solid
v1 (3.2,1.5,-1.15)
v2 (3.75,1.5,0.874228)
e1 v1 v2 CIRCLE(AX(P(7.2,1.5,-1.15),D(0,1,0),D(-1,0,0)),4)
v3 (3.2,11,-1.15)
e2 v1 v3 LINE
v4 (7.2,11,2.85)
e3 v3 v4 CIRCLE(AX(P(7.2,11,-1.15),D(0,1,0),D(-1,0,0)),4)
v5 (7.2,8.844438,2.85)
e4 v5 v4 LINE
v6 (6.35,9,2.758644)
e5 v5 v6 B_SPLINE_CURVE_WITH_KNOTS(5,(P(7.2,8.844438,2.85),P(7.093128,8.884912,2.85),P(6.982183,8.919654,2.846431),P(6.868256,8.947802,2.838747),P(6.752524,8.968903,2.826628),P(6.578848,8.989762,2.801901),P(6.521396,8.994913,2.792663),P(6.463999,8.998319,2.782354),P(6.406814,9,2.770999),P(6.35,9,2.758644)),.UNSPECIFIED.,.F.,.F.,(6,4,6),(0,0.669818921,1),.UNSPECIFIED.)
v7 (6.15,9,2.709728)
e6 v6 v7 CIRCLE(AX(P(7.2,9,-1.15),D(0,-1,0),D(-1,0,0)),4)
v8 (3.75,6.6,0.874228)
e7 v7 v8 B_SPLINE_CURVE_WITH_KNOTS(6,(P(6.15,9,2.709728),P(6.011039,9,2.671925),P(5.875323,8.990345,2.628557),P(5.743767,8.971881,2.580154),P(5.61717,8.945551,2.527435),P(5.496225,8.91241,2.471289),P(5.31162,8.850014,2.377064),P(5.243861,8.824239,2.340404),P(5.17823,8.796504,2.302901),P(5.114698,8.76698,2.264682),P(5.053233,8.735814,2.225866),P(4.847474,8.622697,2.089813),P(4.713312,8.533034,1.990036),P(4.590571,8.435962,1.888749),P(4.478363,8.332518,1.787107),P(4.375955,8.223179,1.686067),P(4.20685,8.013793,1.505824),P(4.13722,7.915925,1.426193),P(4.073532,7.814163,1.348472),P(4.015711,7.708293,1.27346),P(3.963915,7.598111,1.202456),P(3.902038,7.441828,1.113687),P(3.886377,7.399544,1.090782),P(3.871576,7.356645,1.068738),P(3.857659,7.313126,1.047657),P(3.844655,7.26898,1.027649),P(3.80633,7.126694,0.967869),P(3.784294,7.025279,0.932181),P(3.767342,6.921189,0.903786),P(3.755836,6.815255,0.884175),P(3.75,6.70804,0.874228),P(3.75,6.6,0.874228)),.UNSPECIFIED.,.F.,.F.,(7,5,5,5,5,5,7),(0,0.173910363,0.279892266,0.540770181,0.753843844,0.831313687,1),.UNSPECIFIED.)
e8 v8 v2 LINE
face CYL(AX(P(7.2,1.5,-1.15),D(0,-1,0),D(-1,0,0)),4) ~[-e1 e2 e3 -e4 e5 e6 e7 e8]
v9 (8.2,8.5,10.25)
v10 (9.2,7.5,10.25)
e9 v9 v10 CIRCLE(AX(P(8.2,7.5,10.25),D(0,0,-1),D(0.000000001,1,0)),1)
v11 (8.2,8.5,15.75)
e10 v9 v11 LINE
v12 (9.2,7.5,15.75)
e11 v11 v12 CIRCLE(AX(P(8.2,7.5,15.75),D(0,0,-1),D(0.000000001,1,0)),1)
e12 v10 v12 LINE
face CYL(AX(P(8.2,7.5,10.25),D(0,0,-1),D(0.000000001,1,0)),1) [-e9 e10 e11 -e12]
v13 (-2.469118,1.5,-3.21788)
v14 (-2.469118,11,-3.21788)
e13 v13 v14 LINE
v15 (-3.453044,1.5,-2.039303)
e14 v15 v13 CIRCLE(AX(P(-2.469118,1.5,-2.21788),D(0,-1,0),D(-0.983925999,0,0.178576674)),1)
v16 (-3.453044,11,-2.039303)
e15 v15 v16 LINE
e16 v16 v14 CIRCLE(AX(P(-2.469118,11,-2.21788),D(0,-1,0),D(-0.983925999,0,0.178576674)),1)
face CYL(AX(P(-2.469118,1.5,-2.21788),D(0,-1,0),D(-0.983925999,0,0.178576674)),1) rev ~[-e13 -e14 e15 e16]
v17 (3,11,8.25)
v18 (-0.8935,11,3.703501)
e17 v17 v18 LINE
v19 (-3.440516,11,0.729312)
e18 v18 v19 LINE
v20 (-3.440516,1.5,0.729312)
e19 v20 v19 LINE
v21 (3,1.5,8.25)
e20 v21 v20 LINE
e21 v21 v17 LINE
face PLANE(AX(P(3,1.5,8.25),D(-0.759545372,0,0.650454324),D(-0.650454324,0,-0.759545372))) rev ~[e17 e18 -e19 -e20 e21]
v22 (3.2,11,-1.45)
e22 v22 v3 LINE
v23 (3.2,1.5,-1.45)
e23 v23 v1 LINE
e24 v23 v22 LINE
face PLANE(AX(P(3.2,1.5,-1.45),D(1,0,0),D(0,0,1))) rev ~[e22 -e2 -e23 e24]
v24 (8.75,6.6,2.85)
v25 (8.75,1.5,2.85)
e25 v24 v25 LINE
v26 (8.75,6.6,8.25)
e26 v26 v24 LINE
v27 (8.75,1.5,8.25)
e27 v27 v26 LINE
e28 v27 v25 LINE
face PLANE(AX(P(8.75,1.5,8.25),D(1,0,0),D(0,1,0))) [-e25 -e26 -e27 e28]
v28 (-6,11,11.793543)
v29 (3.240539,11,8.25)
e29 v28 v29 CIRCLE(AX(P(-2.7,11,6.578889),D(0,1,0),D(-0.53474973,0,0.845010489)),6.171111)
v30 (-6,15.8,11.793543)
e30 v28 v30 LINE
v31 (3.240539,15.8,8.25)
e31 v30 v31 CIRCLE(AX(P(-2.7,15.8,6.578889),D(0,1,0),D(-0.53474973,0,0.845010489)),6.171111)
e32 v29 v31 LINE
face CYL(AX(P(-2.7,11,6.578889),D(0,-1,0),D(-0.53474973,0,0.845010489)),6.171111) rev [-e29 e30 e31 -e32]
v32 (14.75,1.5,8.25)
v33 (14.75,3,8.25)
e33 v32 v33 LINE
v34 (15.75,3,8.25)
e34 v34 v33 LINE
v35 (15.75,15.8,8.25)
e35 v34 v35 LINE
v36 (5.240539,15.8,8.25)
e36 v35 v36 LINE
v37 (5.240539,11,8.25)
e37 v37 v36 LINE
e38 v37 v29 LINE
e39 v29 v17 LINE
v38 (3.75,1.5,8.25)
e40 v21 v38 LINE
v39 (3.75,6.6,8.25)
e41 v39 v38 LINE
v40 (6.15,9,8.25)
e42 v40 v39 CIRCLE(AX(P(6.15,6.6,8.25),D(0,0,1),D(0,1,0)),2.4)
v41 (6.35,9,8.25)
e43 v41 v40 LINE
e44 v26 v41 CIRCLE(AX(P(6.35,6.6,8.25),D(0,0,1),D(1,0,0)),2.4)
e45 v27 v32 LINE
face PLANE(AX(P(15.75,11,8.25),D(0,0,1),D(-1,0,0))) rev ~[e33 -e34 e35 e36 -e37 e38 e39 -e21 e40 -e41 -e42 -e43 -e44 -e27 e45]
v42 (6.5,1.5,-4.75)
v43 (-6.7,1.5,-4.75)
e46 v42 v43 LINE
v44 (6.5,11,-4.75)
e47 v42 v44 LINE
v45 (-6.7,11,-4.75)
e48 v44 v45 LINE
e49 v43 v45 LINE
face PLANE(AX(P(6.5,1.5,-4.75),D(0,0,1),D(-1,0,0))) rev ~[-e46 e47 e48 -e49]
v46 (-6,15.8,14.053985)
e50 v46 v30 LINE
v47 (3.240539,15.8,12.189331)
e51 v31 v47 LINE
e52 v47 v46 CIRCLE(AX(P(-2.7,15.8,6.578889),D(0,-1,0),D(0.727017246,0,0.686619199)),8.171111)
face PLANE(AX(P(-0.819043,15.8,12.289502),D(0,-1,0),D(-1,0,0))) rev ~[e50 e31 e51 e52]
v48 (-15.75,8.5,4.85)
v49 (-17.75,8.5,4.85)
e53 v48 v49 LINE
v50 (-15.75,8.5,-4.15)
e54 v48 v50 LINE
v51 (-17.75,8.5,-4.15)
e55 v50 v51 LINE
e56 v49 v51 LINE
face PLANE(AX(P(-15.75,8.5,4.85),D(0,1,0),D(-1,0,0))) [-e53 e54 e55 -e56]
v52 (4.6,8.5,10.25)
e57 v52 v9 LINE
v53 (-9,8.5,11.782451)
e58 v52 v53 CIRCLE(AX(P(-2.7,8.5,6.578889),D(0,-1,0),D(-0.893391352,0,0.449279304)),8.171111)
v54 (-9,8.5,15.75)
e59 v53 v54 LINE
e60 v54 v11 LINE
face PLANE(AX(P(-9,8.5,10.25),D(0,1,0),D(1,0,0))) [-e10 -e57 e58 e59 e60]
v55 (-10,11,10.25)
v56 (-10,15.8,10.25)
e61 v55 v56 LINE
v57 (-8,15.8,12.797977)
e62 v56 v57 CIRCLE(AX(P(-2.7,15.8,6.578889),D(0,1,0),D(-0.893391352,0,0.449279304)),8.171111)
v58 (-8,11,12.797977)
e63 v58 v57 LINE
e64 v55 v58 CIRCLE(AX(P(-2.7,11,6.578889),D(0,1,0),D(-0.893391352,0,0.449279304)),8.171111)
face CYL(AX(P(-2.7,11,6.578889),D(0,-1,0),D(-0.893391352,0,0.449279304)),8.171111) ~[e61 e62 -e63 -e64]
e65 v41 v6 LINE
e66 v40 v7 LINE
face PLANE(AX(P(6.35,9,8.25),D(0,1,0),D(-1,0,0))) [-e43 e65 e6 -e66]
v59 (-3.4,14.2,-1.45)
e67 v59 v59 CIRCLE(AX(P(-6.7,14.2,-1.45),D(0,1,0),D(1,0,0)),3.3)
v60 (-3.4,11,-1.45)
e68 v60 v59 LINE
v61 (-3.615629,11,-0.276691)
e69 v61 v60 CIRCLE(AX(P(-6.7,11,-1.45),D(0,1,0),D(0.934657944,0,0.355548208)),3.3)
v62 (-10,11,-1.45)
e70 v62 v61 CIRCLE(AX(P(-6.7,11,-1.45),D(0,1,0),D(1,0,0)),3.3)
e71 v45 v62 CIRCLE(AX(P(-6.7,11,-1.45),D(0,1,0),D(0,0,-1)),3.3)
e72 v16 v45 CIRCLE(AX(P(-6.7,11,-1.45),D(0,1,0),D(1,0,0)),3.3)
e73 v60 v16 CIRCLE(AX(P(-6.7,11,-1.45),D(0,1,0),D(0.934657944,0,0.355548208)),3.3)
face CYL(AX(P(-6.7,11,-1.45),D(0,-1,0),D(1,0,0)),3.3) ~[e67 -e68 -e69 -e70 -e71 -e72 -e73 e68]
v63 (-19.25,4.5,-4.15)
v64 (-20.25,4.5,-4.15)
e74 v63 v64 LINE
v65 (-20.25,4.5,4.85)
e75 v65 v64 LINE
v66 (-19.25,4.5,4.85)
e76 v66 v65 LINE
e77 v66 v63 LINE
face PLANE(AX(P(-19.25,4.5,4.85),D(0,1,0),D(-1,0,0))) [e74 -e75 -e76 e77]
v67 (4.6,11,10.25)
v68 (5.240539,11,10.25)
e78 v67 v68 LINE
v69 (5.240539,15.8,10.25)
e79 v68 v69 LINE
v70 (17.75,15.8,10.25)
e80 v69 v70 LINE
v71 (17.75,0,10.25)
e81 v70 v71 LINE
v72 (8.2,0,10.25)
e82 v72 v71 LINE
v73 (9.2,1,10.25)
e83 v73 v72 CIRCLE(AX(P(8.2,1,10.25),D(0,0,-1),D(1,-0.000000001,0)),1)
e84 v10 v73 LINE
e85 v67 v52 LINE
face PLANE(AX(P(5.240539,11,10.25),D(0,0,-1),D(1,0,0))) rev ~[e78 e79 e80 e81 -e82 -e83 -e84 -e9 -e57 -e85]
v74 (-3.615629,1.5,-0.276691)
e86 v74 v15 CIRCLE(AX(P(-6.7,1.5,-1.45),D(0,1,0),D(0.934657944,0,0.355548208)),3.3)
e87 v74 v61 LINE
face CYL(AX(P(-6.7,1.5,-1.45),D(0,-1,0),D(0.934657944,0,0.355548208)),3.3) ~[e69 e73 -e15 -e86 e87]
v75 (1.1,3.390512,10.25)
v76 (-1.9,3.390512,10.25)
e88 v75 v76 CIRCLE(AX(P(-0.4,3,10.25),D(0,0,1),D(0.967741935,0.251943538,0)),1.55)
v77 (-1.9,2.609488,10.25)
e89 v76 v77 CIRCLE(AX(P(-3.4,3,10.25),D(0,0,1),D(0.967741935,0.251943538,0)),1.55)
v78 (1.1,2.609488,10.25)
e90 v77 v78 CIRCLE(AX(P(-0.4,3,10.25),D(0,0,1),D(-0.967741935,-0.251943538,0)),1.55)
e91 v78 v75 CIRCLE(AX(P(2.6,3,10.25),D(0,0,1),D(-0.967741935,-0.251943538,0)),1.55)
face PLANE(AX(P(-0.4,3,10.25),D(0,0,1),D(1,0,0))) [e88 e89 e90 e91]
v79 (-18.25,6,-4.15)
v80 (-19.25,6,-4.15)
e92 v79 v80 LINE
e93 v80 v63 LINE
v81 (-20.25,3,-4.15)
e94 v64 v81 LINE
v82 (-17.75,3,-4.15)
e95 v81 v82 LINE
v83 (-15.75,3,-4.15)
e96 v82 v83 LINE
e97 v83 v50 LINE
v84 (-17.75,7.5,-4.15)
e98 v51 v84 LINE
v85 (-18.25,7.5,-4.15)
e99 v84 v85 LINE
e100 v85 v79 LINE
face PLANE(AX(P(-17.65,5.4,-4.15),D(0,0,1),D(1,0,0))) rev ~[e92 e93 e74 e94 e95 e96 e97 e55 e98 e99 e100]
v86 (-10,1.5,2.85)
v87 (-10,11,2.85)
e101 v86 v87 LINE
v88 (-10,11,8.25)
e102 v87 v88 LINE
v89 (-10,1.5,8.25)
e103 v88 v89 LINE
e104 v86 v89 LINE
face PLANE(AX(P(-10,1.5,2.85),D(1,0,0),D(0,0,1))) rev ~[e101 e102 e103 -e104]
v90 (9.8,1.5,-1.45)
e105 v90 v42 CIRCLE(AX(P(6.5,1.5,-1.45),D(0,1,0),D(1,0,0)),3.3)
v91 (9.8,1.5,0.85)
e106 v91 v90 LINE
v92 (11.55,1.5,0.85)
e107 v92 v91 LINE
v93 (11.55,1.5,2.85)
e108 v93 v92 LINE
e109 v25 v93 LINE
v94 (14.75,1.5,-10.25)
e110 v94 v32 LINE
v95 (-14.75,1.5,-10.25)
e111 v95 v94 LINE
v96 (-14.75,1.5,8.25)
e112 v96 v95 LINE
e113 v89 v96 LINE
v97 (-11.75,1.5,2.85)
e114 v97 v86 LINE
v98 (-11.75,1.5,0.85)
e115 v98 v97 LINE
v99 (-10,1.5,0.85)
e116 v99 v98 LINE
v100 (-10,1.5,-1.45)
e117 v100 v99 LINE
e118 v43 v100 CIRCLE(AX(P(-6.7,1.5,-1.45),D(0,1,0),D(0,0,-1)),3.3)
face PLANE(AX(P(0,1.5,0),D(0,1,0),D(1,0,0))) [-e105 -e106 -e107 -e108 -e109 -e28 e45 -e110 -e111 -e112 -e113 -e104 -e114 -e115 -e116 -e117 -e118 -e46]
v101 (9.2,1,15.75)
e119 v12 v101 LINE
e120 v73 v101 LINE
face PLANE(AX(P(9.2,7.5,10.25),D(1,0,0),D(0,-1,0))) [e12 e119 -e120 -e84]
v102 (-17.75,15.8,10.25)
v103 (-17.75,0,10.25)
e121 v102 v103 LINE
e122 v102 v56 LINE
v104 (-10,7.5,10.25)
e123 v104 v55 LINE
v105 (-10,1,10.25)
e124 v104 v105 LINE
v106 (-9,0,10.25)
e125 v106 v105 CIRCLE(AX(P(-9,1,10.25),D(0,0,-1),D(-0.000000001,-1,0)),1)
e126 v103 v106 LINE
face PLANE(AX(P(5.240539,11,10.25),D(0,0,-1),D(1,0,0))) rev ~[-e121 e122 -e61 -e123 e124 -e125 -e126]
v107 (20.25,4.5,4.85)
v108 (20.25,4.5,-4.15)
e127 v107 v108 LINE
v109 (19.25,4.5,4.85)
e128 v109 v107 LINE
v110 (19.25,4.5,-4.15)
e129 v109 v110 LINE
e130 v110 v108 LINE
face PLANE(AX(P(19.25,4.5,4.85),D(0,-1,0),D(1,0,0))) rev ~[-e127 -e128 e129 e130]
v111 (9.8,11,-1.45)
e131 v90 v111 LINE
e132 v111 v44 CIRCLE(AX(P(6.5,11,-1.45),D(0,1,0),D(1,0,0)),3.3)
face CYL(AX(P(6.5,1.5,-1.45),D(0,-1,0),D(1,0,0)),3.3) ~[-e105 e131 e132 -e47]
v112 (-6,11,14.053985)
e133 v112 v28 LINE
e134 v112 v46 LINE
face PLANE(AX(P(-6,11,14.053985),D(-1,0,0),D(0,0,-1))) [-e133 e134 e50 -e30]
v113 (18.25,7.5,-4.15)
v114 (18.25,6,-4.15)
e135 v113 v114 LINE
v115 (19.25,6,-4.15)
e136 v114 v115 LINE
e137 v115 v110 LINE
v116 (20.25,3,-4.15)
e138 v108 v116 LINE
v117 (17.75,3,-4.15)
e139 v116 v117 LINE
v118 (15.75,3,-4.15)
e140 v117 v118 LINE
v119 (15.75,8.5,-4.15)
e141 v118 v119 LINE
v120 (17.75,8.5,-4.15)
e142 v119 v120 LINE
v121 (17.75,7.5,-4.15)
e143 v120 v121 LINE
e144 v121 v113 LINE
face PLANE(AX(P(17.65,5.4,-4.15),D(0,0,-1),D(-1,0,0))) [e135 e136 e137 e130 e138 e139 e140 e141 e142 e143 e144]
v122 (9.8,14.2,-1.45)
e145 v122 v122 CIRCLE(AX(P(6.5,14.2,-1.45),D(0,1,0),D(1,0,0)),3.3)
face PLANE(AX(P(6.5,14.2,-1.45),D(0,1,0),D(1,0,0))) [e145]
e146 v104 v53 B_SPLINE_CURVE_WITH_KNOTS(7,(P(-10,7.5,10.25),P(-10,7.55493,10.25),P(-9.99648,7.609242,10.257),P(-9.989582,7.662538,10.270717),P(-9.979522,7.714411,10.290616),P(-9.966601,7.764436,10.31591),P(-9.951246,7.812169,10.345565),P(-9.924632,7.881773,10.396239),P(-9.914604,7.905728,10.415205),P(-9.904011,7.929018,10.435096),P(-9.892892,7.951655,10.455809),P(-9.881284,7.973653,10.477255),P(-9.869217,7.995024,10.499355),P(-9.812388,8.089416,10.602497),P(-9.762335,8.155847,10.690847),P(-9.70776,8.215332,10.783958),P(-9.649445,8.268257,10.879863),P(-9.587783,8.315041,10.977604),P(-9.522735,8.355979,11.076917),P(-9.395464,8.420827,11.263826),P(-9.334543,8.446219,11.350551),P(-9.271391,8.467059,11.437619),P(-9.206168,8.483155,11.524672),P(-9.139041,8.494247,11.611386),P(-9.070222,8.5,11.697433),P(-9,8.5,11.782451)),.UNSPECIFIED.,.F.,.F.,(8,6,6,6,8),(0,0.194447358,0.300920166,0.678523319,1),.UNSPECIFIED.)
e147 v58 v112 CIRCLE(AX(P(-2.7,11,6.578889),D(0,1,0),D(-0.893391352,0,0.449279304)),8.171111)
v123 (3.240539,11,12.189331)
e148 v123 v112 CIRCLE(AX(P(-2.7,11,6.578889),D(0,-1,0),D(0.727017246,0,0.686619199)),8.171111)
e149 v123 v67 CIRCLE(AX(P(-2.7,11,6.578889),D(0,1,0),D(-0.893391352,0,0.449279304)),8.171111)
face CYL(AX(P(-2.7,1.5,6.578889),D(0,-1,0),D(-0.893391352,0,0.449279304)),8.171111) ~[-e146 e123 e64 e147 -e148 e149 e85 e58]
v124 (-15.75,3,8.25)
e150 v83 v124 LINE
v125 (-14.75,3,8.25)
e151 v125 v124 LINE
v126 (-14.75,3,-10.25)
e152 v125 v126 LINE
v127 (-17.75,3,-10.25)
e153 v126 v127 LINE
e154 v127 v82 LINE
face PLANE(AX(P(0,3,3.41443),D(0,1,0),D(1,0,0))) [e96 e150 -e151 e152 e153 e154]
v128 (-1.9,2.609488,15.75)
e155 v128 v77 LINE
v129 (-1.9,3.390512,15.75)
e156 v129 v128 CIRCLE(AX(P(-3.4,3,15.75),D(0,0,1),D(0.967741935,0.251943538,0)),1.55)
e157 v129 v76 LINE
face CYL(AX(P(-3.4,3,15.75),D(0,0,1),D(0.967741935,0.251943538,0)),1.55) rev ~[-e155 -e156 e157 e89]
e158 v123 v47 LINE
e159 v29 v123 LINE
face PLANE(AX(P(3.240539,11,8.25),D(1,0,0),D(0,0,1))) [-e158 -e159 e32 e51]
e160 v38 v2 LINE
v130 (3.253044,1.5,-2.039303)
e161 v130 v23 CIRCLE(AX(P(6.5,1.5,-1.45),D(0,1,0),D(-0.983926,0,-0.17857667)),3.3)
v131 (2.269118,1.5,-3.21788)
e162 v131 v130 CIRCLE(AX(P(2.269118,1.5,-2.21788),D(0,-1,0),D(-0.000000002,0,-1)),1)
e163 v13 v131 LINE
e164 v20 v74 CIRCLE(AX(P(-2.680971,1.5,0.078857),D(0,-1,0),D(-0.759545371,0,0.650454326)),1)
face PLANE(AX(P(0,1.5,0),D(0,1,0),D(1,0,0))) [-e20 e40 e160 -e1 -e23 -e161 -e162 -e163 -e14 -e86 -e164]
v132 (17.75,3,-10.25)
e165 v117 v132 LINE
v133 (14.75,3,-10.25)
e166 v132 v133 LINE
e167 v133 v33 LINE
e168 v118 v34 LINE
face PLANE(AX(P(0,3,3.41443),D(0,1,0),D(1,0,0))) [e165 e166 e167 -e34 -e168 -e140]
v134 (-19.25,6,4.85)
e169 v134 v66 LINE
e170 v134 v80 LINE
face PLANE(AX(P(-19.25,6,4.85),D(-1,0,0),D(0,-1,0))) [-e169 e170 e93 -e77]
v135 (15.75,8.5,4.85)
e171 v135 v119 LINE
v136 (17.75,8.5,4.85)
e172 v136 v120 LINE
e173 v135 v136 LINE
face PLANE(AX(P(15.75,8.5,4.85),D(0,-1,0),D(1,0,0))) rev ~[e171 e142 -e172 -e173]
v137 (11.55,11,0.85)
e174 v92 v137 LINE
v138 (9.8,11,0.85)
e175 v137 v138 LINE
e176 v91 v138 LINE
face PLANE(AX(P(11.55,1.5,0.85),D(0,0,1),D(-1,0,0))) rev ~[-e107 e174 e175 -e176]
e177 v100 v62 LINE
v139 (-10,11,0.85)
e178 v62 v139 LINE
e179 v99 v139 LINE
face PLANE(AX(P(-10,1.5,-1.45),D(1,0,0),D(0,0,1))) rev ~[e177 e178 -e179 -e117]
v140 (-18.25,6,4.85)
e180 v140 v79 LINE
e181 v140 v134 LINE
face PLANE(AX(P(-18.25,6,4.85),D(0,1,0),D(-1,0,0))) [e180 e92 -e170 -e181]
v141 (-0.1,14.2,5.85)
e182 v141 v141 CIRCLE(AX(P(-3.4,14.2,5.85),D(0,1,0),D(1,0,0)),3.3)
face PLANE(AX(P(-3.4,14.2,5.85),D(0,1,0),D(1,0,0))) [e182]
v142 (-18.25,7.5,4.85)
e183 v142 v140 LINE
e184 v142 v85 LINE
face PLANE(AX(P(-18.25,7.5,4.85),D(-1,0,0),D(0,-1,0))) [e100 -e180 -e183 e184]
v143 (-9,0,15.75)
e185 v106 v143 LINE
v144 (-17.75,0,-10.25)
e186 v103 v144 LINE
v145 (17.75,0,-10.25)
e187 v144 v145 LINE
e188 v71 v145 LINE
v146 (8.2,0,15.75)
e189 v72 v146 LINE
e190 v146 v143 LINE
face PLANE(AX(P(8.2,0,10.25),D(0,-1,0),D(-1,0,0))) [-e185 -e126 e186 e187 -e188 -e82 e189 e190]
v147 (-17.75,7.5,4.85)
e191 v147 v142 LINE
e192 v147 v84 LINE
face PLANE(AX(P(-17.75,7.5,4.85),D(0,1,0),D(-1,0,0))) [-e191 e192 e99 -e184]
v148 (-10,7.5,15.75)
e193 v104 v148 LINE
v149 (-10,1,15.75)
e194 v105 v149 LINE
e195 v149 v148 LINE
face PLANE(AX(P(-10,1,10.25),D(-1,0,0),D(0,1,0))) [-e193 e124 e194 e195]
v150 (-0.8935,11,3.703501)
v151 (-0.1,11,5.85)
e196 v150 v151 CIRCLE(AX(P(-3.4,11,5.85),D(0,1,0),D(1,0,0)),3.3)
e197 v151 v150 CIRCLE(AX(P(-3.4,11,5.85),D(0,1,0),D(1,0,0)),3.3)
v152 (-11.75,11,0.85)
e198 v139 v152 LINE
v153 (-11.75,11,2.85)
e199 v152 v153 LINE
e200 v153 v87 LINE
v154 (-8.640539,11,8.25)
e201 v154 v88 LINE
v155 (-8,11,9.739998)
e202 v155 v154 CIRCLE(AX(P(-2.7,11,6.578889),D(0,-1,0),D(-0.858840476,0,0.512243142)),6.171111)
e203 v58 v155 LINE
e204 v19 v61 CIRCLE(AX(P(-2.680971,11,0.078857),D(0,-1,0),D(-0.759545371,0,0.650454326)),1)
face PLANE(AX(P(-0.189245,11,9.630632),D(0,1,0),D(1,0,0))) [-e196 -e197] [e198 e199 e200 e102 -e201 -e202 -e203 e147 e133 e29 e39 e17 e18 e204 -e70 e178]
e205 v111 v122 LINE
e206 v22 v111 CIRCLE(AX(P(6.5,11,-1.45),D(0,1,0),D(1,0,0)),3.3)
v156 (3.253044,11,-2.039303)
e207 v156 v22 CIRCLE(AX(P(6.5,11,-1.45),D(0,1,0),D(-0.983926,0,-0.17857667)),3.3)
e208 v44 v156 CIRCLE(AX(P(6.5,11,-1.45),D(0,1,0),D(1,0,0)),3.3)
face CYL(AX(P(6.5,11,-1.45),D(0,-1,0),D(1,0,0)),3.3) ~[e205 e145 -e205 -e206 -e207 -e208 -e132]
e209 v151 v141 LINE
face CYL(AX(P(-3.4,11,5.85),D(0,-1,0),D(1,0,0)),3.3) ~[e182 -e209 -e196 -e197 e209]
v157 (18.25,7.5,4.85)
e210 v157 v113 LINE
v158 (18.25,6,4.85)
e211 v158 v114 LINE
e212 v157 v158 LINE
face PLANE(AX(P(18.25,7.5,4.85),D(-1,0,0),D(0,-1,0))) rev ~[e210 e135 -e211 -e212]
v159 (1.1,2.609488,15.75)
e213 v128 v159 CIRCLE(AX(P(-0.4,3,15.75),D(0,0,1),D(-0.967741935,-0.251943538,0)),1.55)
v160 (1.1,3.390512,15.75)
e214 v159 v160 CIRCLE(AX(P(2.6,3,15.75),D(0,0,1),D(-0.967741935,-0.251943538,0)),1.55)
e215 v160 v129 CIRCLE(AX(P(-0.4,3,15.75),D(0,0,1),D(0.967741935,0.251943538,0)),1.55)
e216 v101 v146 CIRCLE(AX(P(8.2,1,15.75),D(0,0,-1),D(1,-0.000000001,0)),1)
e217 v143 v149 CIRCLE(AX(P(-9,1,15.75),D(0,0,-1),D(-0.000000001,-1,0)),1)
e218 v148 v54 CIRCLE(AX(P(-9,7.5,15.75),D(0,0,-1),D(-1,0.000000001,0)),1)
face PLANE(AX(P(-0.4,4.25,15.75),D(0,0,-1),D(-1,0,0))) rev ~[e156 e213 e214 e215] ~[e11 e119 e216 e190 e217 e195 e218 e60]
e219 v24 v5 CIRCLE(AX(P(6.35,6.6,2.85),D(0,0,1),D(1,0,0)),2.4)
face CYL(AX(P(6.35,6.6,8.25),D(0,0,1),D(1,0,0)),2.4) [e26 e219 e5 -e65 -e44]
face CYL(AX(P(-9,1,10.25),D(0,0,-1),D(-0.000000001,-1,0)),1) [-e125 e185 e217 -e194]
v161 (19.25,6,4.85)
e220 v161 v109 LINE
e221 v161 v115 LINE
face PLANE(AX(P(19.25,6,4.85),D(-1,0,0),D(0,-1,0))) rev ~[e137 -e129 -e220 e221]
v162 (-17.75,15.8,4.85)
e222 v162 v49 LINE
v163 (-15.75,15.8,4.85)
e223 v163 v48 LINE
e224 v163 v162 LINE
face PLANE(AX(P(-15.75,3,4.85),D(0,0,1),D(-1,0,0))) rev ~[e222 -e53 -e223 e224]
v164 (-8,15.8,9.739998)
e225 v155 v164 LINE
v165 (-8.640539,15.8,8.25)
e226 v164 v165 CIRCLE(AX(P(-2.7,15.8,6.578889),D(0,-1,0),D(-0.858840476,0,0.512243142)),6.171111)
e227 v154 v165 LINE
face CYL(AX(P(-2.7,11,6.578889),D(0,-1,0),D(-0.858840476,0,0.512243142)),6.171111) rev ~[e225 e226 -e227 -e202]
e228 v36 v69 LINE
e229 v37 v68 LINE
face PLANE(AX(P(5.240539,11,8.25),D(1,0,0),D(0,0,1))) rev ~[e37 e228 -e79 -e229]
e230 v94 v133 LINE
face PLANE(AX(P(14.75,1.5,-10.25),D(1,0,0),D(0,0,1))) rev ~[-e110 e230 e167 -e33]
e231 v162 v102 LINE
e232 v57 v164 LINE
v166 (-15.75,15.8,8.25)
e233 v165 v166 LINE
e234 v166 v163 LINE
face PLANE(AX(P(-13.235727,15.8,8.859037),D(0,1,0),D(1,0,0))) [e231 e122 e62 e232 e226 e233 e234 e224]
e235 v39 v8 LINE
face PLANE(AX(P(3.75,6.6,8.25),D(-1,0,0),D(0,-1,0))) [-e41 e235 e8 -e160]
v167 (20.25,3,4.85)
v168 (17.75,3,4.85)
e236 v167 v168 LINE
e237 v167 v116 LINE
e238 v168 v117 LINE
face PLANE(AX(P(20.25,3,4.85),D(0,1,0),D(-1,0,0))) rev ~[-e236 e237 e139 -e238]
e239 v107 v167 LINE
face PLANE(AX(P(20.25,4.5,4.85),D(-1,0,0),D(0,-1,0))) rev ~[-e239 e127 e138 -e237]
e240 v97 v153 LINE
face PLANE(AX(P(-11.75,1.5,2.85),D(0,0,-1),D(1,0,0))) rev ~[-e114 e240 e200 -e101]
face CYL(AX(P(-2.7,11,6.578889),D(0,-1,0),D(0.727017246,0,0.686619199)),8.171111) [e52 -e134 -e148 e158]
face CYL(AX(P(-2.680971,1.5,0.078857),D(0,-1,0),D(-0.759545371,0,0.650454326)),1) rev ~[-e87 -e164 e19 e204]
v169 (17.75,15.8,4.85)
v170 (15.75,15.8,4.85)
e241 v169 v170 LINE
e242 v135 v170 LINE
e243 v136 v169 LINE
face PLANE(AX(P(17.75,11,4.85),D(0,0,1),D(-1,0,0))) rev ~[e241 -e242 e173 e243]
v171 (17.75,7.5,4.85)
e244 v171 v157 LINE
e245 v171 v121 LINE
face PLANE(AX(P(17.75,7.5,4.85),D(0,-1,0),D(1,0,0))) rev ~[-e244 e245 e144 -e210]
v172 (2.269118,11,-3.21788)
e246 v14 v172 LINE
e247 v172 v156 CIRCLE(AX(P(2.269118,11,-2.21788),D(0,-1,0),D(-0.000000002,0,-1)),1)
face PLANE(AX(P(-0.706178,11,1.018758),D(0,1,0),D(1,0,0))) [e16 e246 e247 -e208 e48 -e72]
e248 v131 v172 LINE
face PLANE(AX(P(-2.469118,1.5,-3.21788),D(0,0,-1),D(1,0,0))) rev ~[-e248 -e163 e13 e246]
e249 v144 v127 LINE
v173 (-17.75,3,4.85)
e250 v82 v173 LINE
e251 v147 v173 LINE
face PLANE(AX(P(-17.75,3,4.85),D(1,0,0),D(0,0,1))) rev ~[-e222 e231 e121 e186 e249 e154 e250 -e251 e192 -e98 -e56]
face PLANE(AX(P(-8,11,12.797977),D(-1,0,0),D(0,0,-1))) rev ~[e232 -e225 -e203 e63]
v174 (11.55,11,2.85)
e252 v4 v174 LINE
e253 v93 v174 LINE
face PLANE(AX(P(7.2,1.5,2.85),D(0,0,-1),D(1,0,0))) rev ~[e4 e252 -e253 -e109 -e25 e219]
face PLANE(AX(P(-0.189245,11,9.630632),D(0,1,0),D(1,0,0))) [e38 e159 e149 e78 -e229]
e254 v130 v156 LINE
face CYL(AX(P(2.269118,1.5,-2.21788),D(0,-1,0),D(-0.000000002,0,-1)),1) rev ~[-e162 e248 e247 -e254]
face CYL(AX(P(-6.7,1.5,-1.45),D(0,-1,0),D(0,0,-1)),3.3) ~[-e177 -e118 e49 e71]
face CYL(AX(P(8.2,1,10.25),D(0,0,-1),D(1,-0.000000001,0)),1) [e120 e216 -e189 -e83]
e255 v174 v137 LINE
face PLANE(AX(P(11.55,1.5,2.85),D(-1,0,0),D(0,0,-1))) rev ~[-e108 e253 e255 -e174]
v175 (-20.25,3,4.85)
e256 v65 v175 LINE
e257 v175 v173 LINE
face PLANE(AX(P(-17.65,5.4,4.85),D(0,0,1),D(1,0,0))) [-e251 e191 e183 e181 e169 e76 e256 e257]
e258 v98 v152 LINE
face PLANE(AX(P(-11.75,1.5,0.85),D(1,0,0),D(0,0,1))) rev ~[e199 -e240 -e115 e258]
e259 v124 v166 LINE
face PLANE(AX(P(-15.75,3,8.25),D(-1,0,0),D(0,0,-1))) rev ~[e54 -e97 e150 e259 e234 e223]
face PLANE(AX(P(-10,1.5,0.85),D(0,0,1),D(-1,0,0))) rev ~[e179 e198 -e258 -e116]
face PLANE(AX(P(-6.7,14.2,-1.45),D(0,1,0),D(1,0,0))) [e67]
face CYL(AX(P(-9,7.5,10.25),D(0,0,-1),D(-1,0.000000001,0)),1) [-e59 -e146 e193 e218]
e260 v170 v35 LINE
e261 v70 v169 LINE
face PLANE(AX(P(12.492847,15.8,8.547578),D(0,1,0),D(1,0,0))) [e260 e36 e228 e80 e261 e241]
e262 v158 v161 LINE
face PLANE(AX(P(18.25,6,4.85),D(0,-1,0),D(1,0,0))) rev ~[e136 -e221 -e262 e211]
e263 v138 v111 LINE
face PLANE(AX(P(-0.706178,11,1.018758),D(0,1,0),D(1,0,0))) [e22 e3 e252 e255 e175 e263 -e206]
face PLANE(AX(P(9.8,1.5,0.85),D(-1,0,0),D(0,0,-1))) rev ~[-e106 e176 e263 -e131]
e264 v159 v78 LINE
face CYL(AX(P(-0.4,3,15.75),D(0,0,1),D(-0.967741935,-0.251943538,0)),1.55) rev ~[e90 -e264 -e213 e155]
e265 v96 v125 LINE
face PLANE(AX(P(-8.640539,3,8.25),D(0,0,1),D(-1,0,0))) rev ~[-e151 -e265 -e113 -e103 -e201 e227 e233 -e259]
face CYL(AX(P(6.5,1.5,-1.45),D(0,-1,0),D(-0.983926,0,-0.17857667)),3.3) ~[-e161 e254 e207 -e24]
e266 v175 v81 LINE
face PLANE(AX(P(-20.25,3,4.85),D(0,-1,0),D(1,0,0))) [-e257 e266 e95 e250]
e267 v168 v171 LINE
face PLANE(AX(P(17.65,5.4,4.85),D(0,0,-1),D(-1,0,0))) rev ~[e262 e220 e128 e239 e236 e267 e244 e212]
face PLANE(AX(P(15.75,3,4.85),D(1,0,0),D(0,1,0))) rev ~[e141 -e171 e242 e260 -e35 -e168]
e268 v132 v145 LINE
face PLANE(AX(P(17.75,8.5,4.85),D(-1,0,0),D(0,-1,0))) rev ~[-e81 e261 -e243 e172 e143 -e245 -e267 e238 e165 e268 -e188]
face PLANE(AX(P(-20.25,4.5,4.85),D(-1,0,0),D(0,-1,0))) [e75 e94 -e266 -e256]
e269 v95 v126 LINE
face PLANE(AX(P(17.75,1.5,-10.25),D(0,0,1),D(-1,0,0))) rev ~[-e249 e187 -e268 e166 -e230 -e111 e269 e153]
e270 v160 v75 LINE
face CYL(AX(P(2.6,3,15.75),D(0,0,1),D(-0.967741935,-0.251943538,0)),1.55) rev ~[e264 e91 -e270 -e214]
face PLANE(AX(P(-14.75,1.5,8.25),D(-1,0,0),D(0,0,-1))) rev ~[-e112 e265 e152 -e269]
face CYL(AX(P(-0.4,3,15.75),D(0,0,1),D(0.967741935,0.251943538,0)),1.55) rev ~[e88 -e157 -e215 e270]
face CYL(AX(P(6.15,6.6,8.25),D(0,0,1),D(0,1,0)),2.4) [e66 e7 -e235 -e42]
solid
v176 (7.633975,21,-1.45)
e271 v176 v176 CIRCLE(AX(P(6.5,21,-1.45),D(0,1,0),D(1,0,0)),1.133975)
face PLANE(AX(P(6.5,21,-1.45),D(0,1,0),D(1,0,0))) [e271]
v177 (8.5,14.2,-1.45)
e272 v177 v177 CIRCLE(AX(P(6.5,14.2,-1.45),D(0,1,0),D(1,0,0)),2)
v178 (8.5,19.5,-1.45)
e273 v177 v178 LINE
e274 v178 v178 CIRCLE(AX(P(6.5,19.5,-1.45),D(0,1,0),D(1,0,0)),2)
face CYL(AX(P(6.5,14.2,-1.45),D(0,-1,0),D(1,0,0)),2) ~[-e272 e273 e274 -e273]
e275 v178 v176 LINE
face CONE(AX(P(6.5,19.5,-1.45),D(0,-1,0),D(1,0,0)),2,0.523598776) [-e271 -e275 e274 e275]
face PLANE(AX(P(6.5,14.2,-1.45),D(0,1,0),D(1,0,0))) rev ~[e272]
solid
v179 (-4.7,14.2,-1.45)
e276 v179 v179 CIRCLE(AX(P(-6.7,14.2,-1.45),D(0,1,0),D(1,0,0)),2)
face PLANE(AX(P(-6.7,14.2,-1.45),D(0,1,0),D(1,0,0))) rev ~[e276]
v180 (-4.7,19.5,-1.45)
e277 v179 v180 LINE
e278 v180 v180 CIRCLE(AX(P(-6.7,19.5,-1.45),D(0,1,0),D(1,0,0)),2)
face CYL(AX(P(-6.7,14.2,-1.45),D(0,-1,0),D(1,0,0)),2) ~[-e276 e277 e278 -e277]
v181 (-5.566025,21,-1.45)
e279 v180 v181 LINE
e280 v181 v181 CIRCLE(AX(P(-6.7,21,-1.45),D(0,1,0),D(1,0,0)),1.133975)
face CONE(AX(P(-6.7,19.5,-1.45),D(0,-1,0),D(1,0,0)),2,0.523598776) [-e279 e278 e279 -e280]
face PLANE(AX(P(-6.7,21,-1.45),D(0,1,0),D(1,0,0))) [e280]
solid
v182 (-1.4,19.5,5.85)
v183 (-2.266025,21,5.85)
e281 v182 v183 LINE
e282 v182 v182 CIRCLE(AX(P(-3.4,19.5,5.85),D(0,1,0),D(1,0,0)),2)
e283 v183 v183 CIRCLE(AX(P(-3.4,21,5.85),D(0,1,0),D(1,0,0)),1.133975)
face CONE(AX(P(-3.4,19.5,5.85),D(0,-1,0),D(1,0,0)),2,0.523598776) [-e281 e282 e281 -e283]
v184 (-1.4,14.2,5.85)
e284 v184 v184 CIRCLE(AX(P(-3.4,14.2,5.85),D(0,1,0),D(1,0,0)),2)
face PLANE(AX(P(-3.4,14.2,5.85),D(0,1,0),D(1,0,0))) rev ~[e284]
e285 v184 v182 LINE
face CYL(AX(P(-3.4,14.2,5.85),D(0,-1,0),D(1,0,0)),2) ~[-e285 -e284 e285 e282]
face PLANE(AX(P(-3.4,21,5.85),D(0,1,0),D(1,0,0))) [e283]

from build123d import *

# Parameters (mm, degrees)
SKETCH1_W             = 35.5
SKETCH1_H             = 20.5
BOSS_EXTRUDE1_DEPTH   = 1.5
BOSS_EXTRUDE2_DEPTH   = 1.5
BOSS_EXTRUDE4_DEPTH   = 9.5
SKETCH6_R             = 3.3
BOSS_EXTRUDE5_DEPTH   = 3.2
SKETCH7_R             = 2
BOSS_EXTRUDE6_DEPTH   = 6.8
BOSS_EXTRUDE6_2_DEPTH = 6.8
BOSS_EXTRUDE6_3_DEPTH = 6.8
CHAMFER1_SIZE         = 1.5
CHAMFER1_SIZE2        = 0.866025404
CHAMFER2_SIZE         = 1.5
CHAMFER2_SIZE2        = 0.866025404
CHAMFER3_SIZE         = 1.5
CHAMFER3_SIZE2        = 0.866025404
BOSS_EXTRUDE7_DEPTH   = 8
BOSS_EXTRUDE8_DEPTH   = 4.8
BOSS_EXTRUDE9_DEPTH   = 5.5
BOSS_EXTRUDE10_DEPTH  = 9
BOSS_EXTRUDE11_DEPTH  = 9
CUT_EXTRUDE4_DEPTH    = 5.5


with BuildPart() as part:
    # Sketch1 → Boss-Extrude1 (new body)
    with BuildSketch(Plane(origin=(0, 0, 0), x_dir=(1, 0, 0), z_dir=(0, 1, 0))):
        Rectangle(SKETCH1_W, SKETCH1_H)
    extrude(amount=BOSS_EXTRUDE1_DEPTH)

    # Sketch2 → Boss-Extrude2 (add)
    with BuildSketch(Plane(origin=(0, 1.5, 0), x_dir=(1, 0, 0), z_dir=(0, 1, 0))):
        Polygon((17.75, 10.25), (14.75, 10.25), (14.75, -8.25), (-14.75, -8.25), (-14.75, 10.25), (-17.75, 10.25), (-17.75, -10.25), (17.75, -10.25), align=None)
    extrude(amount=BOSS_EXTRUDE2_DEPTH)

    # Sketch4 → Boss-Extrude4 (add)
    with BuildSketch(Plane(origin=(0, 1.5, 0), x_dir=(1, 0, 0), z_dir=(0, 1, 0))):
        with BuildLine():
            ThreePointArc((9.8, 1.45), (8.833452378, 3.783452378), (6.5, 4.75))
            Line((6.5, 4.75), (-6.7, 4.75))
            ThreePointArc((-6.7, 4.75), (-9.033452378, 3.783452378), (-10, 1.45))
            Line((-10, 1.45), (-10, -0.85))
            Line((-10, -0.85), (-11.75, -0.85))
            Line((-11.75, -0.85), (-11.75, -2.85))
            Line((-11.75, -2.85), (-10, -2.85))
            Line((-10, -2.85), (-10, -8.25))
            Line((-10, -8.25), (3, -8.25))
            Line((3, -8.25), (-3.440516213, -0.729311618))
            ThreePointArc((-3.440516213, -0.729311618), (-3.666156861, -0.250346383), (-3.615628786, 0.276690914))
            ThreePointArc((-3.615628786, 0.276690914), (-3.413949819, 1.146892415), (-3.453044202, 2.03930302))
            ThreePointArc((-3.453044202, 2.03930302), (-3.236769385, 2.858747591), (-2.469118203, 3.217879692))
            Line((-2.469118203, 3.217879692), (2.269118203, 3.217879692))
            ThreePointArc((2.269118203, 3.217879692), (3.036769385, 2.858747591), (3.253044202, 2.03930302))
            ThreePointArc((3.253044202, 2.03930302), (3.213287803, 1.745842752), (3.2, 1.45))
            Line((3.2, 1.45), (3.2, 1.15))
            ThreePointArc((3.2, 1.15), (4.371572875, -1.678427125), (7.2, -2.85))
            Line((7.2, -2.85), (9.8, -2.85))
            Line((9.8, -2.85), (11.55, -2.85))
            Line((11.55, -2.85), (11.55, -0.85))
            Line((11.55, -0.85), (9.8, -0.85))
            Line((9.8, -0.85), (9.8, 1.45))
        make_face()
        with BuildLine():
            Line((3, -8.25), (-10, -8.25))
            Line((-10, -8.25), (-10, -10.25))
            ThreePointArc((-10, -10.25), (-2.7, -14.75), (4.6, -10.25))
            Line((4.6, -10.25), (4.6, -8.25))
            Line((4.6, -8.25), (3, -8.25))
        make_face()
    extrude(amount=BOSS_EXTRUDE4_DEPTH)

    # Sketch6 → Boss-Extrude5 (add)
    with BuildSketch(Plane(origin=(0, 11, 0), x_dir=(1, 0, 0), z_dir=(0, 1, 0))):
        with Locations((-6.7, 1.45)):
            Circle(SKETCH6_R)
        with Locations((6.5, 1.45)):
            Circle(SKETCH6_R)
        with Locations((-3.4, -5.85)):
            Circle(SKETCH6_R)
    extrude(amount=BOSS_EXTRUDE5_DEPTH)

    # Sketch8 → Boss-Extrude7 (add)
    with BuildSketch(Plane(origin=(0, 3, 0), x_dir=(1, 0, 0), z_dir=(0, 1, 0))):
        with BuildLine():
            Line((-17.75, -10.25), (-10, -10.25))
            ThreePointArc((-10, -10.25), (-2.7, -14.75), (4.6, -10.25))
            Line((4.6, -10.25), (17.75, -10.25))
            Line((17.75, -10.25), (17.75, -4.85))
            Line((17.75, -4.85), (15.75, -4.85))
            Line((15.75, -4.85), (15.75, -8.25))
            Line((15.75, -8.25), (14.75, -8.25))
            Line((14.75, -8.25), (4.6, -8.25))
            Line((4.6, -8.25), (3.240538696, -8.25))
            ThreePointArc((3.240538696, -8.25), (-2.7, -12.75), (-8.640538696, -8.25))
            Line((-8.640538696, -8.25), (-10, -8.25))
            Line((-10, -8.25), (-14.75, -8.25))
            Line((-14.75, -8.25), (-15.75, -8.25))
            Line((-15.75, -8.25), (-15.75, -4.85))
            Line((-15.75, -4.85), (-17.75, -4.85))
            Line((-17.75, -4.85), (-17.75, -10.25))
        make_face()
    extrude(amount=BOSS_EXTRUDE7_DEPTH)

    # Sketch9 → Boss-Extrude8 (add)
    with BuildSketch(Plane(origin=(0, 11, 0), x_dir=(1, 0, 0), z_dir=(0, 1, 0))):
        Polygon((17.75, -10.25), (17.75, -4.85), (15.75, -4.85), (15.75, -8.25), (5.240538696, -8.25), (5.240538696, -10.25), align=None)
        with BuildLine():
            Line((-17.75, -4.85), (-17.75, -10.25))
            Line((-17.75, -10.25), (-10, -10.25))
            ThreePointArc((-10, -10.25), (-9.127522593, -11.624085625), (-8, -12.797976988))
            Line((-8, -12.797976988), (-8, -9.739998243))
            ThreePointArc((-8, -9.739998243), (-8.369431297, -9.016133462), (-8.640538696, -8.25))
            Line((-8.640538696, -8.25), (-15.75, -8.25))
            Line((-15.75, -8.25), (-15.75, -4.85))
            Line((-15.75, -4.85), (-17.75, -4.85))
        make_face()
        with BuildLine():
            Line((3.240538696, -8.25), (3.240538696, -12.189330653))
            ThreePointArc((3.240538696, -12.189330653), (-1.083725026, -14.588552552), (-6, -14.05398466))
            Line((-6, -14.05398466), (-6, -11.793542506))
            ThreePointArc((-6, -11.793542506), (-0.490410779, -12.340861452), (3.240538696, -8.25))
        make_face()
    extrude(amount=BOSS_EXTRUDE8_DEPTH)

    # Sketch10 → Boss-Extrude9 (add)
    with BuildSketch(Plane.XY.offset(10.25)):
        with BuildLine():
            Line((-10, 1), (-10, 7.5))
            ThreePointArc((-10, 7.5), (-9.707106781, 8.207106781), (-9, 8.5))
            Line((-9, 8.5), (8.2, 8.5))
            ThreePointArc((8.2, 8.5), (8.907106781, 8.207106781), (9.2, 7.5))
            Line((9.2, 7.5), (9.2, 1))
            ThreePointArc((9.2, 1), (8.907106781, 0.292893219), (8.2, 0))
            Line((8.2, 0), (-9, 0))
            ThreePointArc((-9, 0), (-9.707106781, 0.292893219), (-10, 1))
        make_face()
    extrude(amount=BOSS_EXTRUDE9_DEPTH)

    # Sketch11 → Boss-Extrude10 (add)
    with BuildSketch(Plane(origin=(0, 0, 4.85), x_dir=(-1, 0, 0), z_dir=(0, 0, -1))):
        Polygon((-15.75, 8.5), (-17.75, 8.5), (-17.75, 7.5), (-18.25, 7.5), (-18.25, 6), (-19.25, 6), (-19.25, 4.5), (-20.25, 4.5), (-20.25, 3), (-15.75, 3), align=None)
        Polygon((20.25, 4.5), (20.25, 3), (15.75, 3), (15.75, 8.5), (17.75, 8.5), (17.75, 7.5), (18.25, 7.5), (18.25, 6), (19.25, 6), (19.25, 4.5), align=None)
    extrude(amount=BOSS_EXTRUDE10_DEPTH)

    # Sketch12 → Boss-Extrude11 (add)
    with BuildSketch(Plane(origin=(0, 0, 8.25), x_dir=(-1, 0, 0), z_dir=(0, 0, -1))):
        with BuildLine():
            Line((-8.75, 1.5), (-8.75, 6.6))
            ThreePointArc((-8.75, 6.6), (-8.047056275, 8.297056275), (-6.35, 9))
            Line((-6.35, 9), (-6.15, 9))
            ThreePointArc((-6.15, 9), (-4.452943725, 8.297056275), (-3.75, 6.6))
            Line((-3.75, 6.6), (-3.75, 1.5))
            Line((-3.75, 1.5), (-8.75, 1.5))
        make_face()
    extrude(amount=BOSS_EXTRUDE11_DEPTH)

    # Sketch13 → Cut-Extrude4 (cut)
    with BuildSketch(Plane.XY.offset(15.75)):
        with BuildLine():
            ThreePointArc((-1.9, 2.609487516), (-0.4, 1.45), (1.1, 2.609487516))
            ThreePointArc((1.1, 2.609487516), (4.15, 3), (1.1, 3.390512484))
            ThreePointArc((1.1, 3.390512484), (-0.4, 4.55), (-1.9, 3.390512484))
            ThreePointArc((-1.9, 3.390512484), (-4.95, 3), (-1.9, 2.609487516))
        make_face()
    extrude(amount=-CUT_EXTRUDE4_DEPTH, mode=Mode.SUBTRACT)


with BuildPart() as body_2:
    # Sketch7 → Boss-Extrude6 (new body)
    with BuildSketch(Plane(origin=(0, 14.2, 0), x_dir=(1, 0, 0), z_dir=(0, 1, 0))):
        with Locations((-6.7, 1.45)):
            Circle(SKETCH7_R)
    extrude(amount=BOSS_EXTRUDE6_DEPTH)

    # Chamfer3
    chamfer3_edges = [body_2.edges().sort_by_distance(p)[0] for p in [
        (-8.7, 21, -1.45),
    ]]
    chamfer3_side = [body_2.faces().sort_by_distance(p)[0] for p in [
        (-8.7, 17.6, -1.45),
    ]]
    chamfer(chamfer3_edges, length=CHAMFER3_SIZE, length2=CHAMFER3_SIZE2, reference=chamfer3_side[0])


with BuildPart() as body_3:
    # Sketch7 → Boss-Extrude6 2 (new body)
    with BuildSketch(Plane(origin=(0, 14.2, 0), x_dir=(1, 0, 0), z_dir=(0, 1, 0))):
        with Locations((-3.4, -5.85)):
            Circle(SKETCH7_R)
    extrude(amount=BOSS_EXTRUDE6_2_DEPTH)

    # Chamfer1
    chamfer1_edges = [body_3.edges().sort_by_distance(p)[0] for p in [
        (-5.4, 21, 5.85),
    ]]
    chamfer1_side = [body_3.faces().sort_by_distance(p)[0] for p in [
        (-5.4, 17.6, 5.85),
    ]]
    chamfer(chamfer1_edges, length=CHAMFER1_SIZE, length2=CHAMFER1_SIZE2, reference=chamfer1_side[0])


with BuildPart() as body_4:
    # Sketch7 → Boss-Extrude6 3 (new body)
    with BuildSketch(Plane(origin=(0, 14.2, 0), x_dir=(1, 0, 0), z_dir=(0, 1, 0))):
        with Locations((6.5, 1.45)):
            Circle(SKETCH7_R)
    extrude(amount=BOSS_EXTRUDE6_3_DEPTH)

    # Chamfer2
    chamfer2_edges = [body_4.edges().sort_by_distance(p)[0] for p in [
        (4.5, 21, -1.45),
    ]]
    chamfer2_side = [body_4.faces().sort_by_distance(p)[0] for p in [
        (4.5, 17.6, -1.45),
    ]]
    chamfer(chamfer2_edges, length=CHAMFER2_SIZE, length2=CHAMFER2_SIZE2, reference=chamfer2_side[0])


solid = Compound([part.part, body_2.part, body_3.part, body_4.part])
